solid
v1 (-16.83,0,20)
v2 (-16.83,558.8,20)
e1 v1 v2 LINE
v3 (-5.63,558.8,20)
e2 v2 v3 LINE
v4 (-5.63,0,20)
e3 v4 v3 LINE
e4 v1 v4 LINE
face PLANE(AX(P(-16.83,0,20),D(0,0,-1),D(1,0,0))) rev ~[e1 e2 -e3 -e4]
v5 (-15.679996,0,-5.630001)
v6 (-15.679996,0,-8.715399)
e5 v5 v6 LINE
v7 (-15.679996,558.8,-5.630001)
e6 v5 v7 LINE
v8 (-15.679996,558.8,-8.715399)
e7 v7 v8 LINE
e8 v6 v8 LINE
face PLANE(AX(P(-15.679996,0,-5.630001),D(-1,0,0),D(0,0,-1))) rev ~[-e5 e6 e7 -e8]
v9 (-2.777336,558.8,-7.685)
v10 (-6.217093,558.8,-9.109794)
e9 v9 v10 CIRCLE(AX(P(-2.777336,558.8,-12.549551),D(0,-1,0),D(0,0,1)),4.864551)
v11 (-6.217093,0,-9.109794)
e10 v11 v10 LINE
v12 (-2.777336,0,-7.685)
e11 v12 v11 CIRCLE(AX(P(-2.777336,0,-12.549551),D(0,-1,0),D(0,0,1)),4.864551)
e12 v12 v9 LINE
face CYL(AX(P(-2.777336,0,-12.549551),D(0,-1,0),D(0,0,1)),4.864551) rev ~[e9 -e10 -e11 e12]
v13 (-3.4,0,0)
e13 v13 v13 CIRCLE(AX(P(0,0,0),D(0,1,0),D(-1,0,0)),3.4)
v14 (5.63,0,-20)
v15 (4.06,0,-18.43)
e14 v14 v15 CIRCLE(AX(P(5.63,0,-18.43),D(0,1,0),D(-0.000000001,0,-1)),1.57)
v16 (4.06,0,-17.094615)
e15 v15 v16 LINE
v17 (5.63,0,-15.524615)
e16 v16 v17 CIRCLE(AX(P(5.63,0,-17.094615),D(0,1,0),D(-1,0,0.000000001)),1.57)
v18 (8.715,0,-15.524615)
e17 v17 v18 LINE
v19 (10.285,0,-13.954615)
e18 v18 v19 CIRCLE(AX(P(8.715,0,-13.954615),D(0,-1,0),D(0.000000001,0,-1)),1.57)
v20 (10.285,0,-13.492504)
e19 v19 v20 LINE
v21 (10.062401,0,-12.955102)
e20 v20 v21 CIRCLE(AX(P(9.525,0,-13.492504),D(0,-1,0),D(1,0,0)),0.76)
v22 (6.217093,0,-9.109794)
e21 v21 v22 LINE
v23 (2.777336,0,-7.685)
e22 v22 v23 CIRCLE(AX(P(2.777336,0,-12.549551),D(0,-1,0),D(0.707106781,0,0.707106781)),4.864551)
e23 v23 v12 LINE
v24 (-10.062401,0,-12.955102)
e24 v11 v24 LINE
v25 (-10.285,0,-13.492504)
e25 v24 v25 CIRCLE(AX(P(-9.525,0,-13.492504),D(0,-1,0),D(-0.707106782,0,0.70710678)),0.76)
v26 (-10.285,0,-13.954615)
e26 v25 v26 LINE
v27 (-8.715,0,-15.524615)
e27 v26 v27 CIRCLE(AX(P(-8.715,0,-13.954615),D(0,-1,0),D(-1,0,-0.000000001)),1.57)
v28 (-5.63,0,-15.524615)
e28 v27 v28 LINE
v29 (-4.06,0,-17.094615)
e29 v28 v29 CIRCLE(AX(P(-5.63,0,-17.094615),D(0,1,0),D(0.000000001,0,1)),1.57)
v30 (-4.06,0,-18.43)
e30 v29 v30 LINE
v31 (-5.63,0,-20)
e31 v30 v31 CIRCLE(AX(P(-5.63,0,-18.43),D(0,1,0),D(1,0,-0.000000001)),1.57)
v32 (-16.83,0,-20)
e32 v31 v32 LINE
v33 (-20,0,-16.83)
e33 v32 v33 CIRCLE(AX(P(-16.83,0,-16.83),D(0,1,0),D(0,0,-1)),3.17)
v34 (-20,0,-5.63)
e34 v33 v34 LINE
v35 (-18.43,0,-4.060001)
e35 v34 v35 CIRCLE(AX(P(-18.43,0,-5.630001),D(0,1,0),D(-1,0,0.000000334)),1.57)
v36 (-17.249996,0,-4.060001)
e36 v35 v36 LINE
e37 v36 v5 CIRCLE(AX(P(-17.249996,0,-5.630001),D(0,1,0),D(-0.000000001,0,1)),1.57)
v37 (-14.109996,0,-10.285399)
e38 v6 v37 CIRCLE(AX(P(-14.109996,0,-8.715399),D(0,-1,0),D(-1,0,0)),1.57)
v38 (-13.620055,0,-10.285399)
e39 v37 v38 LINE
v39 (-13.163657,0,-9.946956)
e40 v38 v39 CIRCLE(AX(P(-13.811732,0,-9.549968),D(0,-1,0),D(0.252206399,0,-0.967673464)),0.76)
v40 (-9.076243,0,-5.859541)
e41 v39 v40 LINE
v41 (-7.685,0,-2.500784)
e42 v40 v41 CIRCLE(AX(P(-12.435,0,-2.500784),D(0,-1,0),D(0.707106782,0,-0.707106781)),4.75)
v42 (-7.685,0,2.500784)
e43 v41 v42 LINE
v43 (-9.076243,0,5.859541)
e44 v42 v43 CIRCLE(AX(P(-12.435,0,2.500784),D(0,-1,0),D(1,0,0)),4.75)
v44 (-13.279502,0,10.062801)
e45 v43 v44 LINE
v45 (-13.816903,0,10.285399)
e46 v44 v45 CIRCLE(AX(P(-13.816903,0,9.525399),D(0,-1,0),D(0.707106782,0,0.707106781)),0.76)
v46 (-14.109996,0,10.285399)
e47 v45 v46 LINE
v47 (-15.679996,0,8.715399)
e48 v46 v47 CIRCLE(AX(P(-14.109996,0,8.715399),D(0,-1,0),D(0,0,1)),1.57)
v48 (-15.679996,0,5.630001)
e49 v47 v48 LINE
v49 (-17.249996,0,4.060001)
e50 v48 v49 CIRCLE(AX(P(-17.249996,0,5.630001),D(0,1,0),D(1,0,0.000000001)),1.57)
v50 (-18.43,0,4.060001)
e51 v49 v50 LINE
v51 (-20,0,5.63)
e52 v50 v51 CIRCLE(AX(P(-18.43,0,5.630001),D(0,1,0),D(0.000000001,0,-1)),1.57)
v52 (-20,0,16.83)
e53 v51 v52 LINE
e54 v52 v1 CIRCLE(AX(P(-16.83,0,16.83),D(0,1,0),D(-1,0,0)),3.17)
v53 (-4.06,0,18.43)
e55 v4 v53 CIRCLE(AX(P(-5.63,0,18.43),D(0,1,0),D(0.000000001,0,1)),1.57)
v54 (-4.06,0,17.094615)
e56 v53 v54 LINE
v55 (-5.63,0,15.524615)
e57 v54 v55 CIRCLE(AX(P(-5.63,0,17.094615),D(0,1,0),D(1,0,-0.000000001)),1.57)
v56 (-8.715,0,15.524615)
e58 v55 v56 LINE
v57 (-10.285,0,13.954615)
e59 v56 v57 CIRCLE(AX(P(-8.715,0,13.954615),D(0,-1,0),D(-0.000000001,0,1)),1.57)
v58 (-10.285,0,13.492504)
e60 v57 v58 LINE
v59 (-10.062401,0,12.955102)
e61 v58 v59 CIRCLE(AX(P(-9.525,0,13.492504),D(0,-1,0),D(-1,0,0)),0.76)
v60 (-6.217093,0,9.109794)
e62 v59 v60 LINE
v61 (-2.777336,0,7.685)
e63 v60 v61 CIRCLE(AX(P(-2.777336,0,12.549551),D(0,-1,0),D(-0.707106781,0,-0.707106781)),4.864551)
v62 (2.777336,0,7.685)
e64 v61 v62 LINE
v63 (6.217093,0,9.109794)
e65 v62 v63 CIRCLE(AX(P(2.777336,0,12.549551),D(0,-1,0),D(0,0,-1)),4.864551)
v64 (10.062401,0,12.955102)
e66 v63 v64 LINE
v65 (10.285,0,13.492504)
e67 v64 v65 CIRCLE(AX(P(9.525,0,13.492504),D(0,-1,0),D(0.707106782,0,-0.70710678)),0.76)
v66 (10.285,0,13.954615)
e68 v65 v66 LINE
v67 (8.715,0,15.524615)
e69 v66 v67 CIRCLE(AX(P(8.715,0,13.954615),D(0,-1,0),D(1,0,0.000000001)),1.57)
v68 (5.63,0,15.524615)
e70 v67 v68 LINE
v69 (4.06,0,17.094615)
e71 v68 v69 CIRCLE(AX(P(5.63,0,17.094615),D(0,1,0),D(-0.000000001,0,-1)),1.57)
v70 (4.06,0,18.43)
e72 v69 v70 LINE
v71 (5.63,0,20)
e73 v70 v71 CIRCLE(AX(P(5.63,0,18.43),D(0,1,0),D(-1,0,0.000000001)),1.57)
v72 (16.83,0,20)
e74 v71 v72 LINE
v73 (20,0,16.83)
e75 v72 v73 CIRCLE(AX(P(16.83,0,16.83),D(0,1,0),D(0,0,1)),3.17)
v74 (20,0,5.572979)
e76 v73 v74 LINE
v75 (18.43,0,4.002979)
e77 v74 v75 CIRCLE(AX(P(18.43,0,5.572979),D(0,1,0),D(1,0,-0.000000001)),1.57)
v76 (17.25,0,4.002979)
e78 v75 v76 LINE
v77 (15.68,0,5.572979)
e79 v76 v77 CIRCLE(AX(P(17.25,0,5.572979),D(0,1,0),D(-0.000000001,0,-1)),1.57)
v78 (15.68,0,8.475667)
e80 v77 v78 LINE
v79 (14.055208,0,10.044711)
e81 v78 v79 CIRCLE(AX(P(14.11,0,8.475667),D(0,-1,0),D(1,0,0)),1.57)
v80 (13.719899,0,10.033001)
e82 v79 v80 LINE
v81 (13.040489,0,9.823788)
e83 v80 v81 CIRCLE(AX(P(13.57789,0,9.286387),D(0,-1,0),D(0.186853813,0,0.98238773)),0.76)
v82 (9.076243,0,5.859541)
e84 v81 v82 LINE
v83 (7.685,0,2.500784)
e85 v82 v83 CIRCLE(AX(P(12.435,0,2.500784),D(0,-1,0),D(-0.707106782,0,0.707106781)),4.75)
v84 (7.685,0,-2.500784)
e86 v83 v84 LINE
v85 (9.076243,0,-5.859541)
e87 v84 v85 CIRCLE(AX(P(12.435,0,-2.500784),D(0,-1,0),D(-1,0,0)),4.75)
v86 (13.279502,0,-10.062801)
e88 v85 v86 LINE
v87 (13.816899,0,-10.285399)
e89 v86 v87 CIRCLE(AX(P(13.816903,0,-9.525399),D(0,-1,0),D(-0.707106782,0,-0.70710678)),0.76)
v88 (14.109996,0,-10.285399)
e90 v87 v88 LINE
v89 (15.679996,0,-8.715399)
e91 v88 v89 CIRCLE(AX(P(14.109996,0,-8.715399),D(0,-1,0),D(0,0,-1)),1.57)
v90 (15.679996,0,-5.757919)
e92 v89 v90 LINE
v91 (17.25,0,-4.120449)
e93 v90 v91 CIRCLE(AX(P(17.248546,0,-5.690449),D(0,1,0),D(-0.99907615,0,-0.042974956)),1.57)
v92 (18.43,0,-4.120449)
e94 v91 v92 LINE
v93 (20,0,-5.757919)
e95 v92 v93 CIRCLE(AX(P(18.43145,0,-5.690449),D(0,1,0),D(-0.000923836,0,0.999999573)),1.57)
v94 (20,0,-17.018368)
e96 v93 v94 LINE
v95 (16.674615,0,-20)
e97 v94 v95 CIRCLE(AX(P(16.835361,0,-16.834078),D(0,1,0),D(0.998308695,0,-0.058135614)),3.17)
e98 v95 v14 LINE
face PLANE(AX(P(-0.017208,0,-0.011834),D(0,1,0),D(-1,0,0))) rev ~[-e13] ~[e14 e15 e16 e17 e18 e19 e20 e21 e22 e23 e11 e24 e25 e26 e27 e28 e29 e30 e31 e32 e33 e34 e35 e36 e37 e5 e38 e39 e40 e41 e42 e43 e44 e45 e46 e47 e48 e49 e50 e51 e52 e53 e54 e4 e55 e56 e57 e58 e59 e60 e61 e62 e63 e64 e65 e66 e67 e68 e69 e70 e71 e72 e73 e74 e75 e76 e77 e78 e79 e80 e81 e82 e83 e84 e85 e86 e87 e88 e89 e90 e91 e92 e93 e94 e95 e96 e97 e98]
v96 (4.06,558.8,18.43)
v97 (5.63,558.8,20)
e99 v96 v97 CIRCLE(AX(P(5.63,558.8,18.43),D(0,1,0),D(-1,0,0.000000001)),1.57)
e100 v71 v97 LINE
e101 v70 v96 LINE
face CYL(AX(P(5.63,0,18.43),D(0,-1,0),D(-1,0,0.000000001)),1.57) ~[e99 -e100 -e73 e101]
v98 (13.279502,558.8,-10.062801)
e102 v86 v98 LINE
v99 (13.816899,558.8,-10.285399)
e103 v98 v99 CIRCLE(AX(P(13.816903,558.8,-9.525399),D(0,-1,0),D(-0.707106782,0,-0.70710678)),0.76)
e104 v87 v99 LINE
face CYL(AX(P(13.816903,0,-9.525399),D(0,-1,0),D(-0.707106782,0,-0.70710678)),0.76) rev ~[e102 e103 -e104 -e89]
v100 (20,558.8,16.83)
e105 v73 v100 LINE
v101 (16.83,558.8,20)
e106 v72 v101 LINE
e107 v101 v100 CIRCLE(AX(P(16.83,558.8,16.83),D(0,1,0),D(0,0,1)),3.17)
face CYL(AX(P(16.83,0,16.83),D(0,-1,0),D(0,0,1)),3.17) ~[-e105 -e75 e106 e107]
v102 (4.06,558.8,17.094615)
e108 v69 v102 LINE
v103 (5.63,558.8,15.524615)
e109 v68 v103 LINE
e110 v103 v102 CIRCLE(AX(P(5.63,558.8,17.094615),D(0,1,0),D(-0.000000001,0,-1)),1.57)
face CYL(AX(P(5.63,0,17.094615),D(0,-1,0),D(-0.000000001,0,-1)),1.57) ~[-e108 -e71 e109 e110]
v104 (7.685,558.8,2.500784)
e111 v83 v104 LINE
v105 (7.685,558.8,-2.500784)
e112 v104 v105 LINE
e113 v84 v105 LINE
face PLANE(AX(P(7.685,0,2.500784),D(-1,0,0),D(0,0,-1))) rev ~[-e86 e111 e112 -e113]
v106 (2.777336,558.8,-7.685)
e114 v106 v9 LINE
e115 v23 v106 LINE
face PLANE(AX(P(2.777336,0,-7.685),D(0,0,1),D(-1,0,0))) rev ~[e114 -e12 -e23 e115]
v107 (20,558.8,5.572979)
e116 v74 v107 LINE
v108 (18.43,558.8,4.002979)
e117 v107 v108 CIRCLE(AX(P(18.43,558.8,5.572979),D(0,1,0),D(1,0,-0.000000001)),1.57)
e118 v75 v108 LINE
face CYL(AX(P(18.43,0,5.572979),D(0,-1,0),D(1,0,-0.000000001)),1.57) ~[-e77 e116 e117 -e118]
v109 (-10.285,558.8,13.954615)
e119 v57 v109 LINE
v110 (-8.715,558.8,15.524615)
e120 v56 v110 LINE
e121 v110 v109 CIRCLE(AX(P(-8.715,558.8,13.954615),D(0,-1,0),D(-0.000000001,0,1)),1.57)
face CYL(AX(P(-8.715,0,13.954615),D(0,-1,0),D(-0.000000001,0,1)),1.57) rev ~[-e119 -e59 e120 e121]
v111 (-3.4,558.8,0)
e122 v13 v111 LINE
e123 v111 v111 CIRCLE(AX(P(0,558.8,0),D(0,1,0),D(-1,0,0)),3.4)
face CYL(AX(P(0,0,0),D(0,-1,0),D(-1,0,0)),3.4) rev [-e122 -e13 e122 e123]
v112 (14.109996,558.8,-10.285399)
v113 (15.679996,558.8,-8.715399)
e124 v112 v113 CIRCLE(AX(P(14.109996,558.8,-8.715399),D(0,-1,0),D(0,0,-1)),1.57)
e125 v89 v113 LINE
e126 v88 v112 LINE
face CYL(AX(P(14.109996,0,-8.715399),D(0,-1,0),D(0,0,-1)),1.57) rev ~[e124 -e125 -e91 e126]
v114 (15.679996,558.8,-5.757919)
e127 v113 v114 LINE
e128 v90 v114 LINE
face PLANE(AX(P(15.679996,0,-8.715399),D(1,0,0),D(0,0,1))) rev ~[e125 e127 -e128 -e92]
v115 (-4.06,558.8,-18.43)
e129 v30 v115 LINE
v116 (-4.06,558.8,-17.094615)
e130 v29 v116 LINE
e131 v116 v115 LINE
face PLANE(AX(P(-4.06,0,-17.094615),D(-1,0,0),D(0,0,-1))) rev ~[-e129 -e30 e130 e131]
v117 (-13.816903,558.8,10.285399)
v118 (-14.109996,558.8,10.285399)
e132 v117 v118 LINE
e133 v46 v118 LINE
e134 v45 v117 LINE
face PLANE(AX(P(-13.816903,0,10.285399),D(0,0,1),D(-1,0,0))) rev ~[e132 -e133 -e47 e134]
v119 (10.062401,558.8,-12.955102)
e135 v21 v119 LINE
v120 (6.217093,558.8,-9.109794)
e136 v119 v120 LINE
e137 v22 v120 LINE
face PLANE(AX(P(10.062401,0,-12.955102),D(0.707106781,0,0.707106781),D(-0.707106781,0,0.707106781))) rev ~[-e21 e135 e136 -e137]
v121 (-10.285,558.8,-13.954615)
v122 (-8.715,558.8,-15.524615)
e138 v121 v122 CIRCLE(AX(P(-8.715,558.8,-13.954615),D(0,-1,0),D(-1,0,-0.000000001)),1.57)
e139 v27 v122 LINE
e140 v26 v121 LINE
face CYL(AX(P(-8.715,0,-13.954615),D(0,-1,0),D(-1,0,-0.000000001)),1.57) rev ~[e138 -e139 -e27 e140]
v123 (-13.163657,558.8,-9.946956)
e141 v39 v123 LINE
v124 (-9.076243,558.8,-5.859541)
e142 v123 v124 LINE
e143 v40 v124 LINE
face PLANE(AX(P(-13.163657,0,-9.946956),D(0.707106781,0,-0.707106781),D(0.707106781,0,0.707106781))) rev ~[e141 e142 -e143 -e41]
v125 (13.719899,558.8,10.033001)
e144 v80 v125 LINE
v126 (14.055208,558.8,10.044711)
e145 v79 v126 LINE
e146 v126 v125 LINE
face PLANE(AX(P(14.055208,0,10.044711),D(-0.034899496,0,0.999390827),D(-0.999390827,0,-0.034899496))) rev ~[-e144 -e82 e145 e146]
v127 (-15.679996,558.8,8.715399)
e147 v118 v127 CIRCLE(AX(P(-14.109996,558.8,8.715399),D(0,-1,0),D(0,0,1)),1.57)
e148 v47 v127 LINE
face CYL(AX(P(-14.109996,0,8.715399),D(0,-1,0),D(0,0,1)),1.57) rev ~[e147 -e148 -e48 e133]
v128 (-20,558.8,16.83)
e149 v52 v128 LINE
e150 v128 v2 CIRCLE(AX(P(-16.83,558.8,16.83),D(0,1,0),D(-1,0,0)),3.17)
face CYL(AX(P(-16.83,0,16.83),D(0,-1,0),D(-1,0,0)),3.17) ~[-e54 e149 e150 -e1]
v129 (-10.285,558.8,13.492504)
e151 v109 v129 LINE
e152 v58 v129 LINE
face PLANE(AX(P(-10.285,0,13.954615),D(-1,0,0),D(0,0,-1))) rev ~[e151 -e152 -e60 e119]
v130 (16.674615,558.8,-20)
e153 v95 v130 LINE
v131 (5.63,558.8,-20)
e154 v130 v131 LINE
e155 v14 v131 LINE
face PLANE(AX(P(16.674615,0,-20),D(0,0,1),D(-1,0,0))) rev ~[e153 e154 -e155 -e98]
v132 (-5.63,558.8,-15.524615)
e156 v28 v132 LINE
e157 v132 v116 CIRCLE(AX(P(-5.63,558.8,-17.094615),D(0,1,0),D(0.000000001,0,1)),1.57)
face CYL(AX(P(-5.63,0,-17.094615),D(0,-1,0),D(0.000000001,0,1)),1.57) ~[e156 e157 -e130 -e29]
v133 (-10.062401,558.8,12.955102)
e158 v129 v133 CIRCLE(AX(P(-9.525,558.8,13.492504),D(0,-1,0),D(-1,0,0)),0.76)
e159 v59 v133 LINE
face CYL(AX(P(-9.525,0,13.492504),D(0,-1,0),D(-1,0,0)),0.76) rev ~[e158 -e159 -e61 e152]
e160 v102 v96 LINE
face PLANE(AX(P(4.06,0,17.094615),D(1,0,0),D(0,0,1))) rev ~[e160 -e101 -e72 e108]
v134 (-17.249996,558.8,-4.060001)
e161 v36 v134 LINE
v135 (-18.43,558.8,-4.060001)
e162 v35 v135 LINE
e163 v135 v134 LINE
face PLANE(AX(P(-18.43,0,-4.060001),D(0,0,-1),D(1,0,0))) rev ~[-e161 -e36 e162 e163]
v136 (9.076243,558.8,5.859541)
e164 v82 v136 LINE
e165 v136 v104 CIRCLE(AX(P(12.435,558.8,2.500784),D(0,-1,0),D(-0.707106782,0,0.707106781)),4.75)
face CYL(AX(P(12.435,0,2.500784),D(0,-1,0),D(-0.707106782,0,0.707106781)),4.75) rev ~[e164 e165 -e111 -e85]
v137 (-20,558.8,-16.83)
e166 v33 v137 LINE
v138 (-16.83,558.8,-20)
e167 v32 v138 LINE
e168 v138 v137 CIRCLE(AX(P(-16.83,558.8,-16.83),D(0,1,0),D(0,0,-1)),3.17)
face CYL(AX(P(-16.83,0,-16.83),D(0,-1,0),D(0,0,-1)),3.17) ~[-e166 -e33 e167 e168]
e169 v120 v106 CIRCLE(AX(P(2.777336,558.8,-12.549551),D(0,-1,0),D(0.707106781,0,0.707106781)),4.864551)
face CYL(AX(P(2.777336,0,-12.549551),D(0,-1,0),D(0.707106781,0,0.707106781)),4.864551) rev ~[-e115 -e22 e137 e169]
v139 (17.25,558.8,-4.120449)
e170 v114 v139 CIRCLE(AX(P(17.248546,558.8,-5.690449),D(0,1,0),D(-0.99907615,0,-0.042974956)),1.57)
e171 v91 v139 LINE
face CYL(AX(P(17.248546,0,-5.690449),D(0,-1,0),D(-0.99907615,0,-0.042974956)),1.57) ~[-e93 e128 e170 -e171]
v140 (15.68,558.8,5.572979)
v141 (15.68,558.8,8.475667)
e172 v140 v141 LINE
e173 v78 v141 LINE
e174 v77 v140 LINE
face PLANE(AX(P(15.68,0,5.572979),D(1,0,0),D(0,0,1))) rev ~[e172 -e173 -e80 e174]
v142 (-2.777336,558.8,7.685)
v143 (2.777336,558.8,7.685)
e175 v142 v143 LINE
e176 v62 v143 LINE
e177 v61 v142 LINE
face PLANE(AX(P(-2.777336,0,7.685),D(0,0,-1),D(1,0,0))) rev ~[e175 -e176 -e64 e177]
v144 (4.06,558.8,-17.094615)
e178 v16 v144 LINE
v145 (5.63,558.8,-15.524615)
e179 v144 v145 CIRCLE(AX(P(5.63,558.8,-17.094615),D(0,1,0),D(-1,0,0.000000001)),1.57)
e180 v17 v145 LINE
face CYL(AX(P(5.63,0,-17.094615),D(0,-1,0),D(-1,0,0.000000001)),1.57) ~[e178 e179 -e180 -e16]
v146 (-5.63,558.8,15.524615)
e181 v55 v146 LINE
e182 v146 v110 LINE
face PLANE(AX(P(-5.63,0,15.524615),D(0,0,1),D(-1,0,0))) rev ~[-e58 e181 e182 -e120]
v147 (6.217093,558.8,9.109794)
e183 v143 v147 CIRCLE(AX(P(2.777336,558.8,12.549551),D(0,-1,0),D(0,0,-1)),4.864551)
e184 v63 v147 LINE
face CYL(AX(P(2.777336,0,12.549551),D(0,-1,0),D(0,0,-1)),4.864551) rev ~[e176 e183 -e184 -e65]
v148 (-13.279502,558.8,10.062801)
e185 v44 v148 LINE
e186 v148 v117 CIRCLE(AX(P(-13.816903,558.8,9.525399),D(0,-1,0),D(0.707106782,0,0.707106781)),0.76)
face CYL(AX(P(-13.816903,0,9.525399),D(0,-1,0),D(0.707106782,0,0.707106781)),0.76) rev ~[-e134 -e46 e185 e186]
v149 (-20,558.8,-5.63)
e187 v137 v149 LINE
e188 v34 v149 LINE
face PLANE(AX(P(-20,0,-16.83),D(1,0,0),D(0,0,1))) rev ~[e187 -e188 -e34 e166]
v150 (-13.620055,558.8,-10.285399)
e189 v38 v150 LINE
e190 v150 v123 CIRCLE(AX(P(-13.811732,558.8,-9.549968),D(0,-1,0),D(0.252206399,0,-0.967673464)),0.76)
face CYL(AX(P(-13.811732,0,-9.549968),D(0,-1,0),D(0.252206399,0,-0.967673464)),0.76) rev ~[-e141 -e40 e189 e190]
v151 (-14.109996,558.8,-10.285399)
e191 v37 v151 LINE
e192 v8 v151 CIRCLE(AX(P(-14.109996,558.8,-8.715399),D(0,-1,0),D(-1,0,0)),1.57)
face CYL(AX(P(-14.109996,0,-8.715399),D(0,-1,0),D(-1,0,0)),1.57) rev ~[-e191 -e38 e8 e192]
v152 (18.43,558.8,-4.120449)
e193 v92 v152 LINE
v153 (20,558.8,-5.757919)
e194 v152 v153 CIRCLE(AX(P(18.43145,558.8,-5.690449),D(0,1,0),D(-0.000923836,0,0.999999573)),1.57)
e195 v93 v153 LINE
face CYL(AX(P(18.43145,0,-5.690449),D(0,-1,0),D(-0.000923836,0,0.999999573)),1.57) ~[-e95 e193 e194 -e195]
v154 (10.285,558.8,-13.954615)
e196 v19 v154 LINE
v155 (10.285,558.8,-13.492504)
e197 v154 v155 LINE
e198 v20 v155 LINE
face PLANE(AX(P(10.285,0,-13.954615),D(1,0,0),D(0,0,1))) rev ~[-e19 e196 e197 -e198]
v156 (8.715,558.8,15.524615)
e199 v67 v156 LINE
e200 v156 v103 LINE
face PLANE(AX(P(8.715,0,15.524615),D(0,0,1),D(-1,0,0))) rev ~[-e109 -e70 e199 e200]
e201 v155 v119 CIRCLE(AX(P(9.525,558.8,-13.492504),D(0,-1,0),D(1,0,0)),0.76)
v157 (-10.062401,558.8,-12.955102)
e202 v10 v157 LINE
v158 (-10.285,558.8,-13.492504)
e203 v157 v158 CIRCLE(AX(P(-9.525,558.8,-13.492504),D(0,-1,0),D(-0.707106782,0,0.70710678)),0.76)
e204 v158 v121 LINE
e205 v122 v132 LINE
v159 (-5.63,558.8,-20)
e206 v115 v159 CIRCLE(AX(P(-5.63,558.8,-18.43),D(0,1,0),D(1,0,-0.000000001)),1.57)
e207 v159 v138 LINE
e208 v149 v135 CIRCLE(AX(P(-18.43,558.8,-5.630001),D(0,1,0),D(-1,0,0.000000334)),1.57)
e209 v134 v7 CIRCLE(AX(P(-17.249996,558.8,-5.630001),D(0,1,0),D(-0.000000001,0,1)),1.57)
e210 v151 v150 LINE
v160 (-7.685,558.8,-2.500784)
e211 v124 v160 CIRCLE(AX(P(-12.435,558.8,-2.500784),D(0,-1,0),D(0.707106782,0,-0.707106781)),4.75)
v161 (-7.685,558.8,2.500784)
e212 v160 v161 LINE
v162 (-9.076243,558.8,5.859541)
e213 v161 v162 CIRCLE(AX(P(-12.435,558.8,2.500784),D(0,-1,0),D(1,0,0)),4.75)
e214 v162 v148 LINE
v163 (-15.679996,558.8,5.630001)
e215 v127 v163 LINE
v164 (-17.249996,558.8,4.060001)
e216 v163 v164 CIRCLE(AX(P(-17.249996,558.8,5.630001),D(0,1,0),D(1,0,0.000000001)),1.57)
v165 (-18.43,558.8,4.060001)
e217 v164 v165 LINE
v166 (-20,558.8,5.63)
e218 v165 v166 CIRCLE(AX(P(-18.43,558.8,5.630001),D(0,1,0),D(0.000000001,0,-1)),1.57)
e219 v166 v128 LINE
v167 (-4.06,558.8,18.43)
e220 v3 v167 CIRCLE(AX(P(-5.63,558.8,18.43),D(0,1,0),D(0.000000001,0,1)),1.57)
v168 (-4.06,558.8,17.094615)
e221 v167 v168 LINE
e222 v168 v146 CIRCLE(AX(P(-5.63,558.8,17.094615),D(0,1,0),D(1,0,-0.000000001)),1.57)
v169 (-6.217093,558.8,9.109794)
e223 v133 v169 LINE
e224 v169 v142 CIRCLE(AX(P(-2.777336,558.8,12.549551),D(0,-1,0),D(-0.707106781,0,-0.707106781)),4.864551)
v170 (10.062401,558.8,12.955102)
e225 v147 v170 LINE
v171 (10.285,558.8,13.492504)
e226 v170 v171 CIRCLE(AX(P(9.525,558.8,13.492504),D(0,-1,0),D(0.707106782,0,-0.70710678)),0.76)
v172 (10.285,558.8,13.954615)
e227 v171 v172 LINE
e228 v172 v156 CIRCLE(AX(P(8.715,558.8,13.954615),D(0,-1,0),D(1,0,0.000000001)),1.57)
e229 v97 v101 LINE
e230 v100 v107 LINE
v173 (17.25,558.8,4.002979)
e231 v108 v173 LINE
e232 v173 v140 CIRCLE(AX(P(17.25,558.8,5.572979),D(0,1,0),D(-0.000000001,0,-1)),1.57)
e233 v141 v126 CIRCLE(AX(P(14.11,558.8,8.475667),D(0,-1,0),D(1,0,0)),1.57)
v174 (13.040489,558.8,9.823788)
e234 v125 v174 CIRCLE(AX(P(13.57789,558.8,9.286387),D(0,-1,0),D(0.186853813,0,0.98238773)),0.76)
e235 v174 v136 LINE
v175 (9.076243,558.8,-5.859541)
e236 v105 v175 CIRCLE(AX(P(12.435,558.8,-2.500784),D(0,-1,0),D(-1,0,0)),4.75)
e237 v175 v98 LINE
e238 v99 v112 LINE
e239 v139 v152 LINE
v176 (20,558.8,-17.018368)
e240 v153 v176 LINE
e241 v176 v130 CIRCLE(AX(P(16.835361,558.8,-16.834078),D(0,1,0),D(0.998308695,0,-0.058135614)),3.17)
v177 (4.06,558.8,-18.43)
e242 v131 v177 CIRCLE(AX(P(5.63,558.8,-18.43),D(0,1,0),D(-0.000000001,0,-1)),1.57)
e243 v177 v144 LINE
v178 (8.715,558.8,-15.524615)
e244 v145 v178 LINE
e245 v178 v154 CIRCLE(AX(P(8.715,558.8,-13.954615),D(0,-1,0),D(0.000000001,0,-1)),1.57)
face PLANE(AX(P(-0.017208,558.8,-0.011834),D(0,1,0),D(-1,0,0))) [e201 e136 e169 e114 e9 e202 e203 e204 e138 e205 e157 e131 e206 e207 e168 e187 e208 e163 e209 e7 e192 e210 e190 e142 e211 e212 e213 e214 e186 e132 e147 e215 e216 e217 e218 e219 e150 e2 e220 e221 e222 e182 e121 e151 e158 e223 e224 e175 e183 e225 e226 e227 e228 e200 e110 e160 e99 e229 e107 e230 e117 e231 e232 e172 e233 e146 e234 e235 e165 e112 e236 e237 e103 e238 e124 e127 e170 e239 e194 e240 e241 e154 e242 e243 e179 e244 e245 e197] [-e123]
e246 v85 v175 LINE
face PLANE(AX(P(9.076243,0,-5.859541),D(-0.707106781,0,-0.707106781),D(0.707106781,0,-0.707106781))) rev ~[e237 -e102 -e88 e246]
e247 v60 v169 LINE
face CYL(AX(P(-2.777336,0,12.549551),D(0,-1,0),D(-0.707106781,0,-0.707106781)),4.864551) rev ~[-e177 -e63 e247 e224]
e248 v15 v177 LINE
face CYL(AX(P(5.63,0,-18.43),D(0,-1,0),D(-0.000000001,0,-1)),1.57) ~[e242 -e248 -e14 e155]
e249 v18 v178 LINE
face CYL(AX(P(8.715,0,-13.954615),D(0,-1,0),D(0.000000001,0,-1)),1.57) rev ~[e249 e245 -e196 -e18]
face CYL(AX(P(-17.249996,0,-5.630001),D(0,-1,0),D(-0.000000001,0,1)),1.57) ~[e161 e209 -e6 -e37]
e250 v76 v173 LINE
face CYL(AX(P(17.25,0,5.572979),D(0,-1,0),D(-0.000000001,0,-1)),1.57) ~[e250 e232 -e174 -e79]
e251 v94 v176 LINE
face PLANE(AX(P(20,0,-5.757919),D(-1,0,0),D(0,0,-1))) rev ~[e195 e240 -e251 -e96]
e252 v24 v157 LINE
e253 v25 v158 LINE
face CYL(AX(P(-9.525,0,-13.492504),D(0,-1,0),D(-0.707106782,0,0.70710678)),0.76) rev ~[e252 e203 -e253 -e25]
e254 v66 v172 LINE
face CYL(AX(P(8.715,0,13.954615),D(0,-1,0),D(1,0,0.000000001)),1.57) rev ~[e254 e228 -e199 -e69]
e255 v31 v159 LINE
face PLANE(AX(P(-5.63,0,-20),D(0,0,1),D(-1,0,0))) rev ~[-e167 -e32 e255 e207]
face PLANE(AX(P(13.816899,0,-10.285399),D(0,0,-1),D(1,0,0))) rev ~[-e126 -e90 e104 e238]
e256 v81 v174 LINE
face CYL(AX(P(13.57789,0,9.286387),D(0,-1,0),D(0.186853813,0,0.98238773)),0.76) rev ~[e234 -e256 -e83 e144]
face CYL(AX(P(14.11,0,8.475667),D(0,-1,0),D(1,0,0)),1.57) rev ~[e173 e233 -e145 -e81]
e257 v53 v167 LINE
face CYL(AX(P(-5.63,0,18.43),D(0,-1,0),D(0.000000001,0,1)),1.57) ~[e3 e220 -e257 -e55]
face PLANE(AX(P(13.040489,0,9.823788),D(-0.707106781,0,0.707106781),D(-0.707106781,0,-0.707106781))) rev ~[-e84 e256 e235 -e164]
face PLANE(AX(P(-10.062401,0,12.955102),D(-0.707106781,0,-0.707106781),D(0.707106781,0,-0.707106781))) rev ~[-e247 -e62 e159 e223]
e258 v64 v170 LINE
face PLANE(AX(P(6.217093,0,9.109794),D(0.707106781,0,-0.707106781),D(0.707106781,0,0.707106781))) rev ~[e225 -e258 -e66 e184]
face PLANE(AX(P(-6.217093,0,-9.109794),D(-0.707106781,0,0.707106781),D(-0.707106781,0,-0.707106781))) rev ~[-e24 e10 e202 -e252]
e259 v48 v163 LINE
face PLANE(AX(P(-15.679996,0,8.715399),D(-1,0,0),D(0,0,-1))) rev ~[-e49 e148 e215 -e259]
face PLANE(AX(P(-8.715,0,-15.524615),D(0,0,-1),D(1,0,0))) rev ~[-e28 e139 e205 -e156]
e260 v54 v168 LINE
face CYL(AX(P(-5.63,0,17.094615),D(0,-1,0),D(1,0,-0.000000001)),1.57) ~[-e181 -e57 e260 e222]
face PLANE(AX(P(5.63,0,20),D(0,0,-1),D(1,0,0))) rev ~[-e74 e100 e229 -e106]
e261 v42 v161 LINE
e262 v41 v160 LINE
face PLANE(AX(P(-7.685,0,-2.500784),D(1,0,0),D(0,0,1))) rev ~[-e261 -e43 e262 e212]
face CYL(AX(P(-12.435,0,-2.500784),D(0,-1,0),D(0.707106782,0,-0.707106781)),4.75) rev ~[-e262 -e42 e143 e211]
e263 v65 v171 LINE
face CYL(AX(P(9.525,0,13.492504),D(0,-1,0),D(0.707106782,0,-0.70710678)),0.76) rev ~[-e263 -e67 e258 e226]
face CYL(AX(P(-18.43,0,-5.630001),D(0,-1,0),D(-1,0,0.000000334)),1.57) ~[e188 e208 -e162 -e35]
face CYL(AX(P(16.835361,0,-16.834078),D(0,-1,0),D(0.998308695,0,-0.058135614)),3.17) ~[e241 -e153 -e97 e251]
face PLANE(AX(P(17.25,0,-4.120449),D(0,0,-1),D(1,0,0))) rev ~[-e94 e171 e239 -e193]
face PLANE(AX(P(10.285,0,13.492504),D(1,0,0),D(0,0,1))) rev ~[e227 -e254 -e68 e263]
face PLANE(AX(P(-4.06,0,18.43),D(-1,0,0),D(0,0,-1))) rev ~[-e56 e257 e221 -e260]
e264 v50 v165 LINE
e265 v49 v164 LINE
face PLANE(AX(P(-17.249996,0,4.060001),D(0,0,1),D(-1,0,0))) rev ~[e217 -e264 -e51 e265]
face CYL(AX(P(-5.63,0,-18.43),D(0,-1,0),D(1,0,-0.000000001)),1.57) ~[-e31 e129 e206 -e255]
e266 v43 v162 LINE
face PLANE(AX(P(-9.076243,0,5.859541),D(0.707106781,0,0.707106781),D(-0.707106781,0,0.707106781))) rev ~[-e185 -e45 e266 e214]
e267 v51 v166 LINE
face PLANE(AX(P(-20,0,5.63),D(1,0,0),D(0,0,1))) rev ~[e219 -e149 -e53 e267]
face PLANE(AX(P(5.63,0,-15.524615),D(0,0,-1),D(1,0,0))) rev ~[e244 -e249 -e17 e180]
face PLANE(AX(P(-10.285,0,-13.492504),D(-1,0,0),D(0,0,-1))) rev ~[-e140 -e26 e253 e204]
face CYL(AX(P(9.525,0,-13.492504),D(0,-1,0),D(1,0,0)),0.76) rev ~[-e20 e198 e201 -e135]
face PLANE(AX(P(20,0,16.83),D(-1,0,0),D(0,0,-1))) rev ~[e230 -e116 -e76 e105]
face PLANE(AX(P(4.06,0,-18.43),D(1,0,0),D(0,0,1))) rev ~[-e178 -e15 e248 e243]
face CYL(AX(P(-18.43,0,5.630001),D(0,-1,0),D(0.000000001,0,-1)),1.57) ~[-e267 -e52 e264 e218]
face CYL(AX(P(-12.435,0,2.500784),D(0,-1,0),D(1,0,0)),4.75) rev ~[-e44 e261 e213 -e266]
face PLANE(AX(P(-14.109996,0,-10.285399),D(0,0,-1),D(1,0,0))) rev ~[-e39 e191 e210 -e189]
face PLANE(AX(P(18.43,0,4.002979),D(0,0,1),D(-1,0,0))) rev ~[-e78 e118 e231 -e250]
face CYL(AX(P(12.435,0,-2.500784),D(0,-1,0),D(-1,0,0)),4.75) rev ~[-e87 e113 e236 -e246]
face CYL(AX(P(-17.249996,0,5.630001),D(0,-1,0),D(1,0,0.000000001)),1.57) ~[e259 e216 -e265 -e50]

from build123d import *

# Parameters (mm, degrees)
SKETCH11_R               = 3.4
F_40_SERIES_4040_1_DEPTH = 558.8


with BuildPart() as part:
    # Sketch11 → 40 series 4040(1) (new body)
    with BuildSketch(Plane(origin=(0, 0, 0), x_dir=(-1, 0, 0), z_dir=(0, 1, 0))):
        with BuildLine():
            Line((-5.63, -15.524615034), (-8.715, -15.524615034))
            ThreePointArc((-8.715, -15.524615034), (-9.825157646, -15.06477268), (-10.285, -13.954615034))
            Line((-10.285, -13.954615034), (-10.285, -13.492503602))
            ThreePointArc((-10.285, -13.492503602), (-10.227148445, -13.201664194), (-10.062401154, -12.955102448))
            Line((-10.062401154, -12.955102448), (-6.217092793, -9.109794088))
            ThreePointArc((-6.217092793, -9.109794088), (-4.63891877, -8.055291919), (-2.777335583, -7.685))
            Line((-2.777335583, -7.685), (2.777335583, -7.685))
            ThreePointArc((2.777335583, -7.685), (4.63891877, -8.055291919), (6.217092793, -9.109794088))
            Line((6.217092793, -9.109794088), (10.062401154, -12.955102448))
            ThreePointArc((10.062401154, -12.955102448), (10.227148445, -13.201664194), (10.285, -13.492503602))
            Line((10.285, -13.492503602), (10.285, -13.954615034))
            ThreePointArc((10.285, -13.954615034), (9.825157646, -15.06477268), (8.715, -15.524615034))
            Line((8.715, -15.524615034), (5.63, -15.524615034))
            ThreePointArc((5.63, -15.524615034), (4.519842354, -15.984457388), (4.06, -17.094615034))
            Line((4.06, -17.094615034), (4.06, -18.43))
            ThreePointArc((4.06, -18.43), (4.519842354, -19.540157646), (5.63, -20))
            Line((5.63, -20), (16.83, -20))
            ThreePointArc((16.83, -20), (19.071528496, -19.071528496), (20, -16.83))
            Line((20, -16.83), (20, -5.63))
            ThreePointArc((20, -5.63), (19.540157461, -4.519842693), (18.43, -4.060000526))
            Line((18.43, -4.060000526), (17.24999625, -4.060000526))
            ThreePointArc((17.24999625, -4.060000526), (16.139838603, -4.519842879), (15.67999625, -5.630000526))
            Line((15.67999625, -5.630000526), (15.67999625, -8.715399492))
            ThreePointArc((15.67999625, -8.715399492), (15.220153896, -9.825557139), (14.10999625, -10.285399492))
            Line((14.10999625, -10.285399492), (13.6200547, -10.285399492))
            ThreePointArc((13.6200547, -10.285399492), (13.35903797, -10.160433474), (13.163657296, -9.946956002))
            Line((13.163657296, -9.946956002), (9.076242789, -5.859541495))
            ThreePointArc((9.076242789, -5.859541495), (8.046572221, -4.318530588), (7.685, -2.500784284))
            Line((7.685, -2.500784284), (7.685, 2.500784284))
            ThreePointArc((7.685, 2.500784284), (8.046572221, 4.318530588), (9.076242789, 5.859541495))
            Line((9.076242789, 5.859541495), (13.279501941, 10.062800646))
            ThreePointArc((13.279501941, 10.062800646), (13.526063686, 10.227547937), (13.816903094, 10.285399492))
            Line((13.816903094, 10.285399492), (14.10999625, 10.285399492))
            ThreePointArc((14.10999625, 10.285399492), (15.220153896, 9.825557139), (15.67999625, 8.715399492))
            Line((15.67999625, 8.715399492), (15.67999625, 5.630000526))
            ThreePointArc((15.67999625, 5.630000526), (16.139838603, 4.519842879), (17.24999625, 4.060000526))
            Line((17.24999625, 4.060000526), (18.43, 4.060000526))
            ThreePointArc((18.43, 4.060000526), (19.540157461, 4.519842693), (20, 5.63))
            Line((20, 5.63), (20, 16.83))
            ThreePointArc((20, 16.83), (19.071528496, 19.071528496), (16.83, 20))
            Line((16.83, 20), (5.63, 20))
            ThreePointArc((5.63, 20), (4.519842354, 19.540157646), (4.06, 18.43))
            Line((4.06, 18.43), (4.06, 17.094615034))
            ThreePointArc((4.06, 17.094615034), (4.519842354, 15.984457388), (5.63, 15.524615034))
            Line((5.63, 15.524615034), (8.715, 15.524615034))
            ThreePointArc((8.715, 15.524615034), (9.825157646, 15.06477268), (10.285, 13.954615034))
            Line((10.285, 13.954615034), (10.285, 13.492503602))
            ThreePointArc((10.285, 13.492503602), (10.227148445, 13.201664194), (10.062401154, 12.955102448))
            Line((10.062401154, 12.955102448), (6.217092793, 9.109794088))
            ThreePointArc((6.217092793, 9.109794088), (4.63891877, 8.055291919), (2.777335583, 7.685))
            Line((2.777335583, 7.685), (-2.777335583, 7.685))
            ThreePointArc((-2.777335583, 7.685), (-4.63891877, 8.055291919), (-6.217092793, 9.109794088))
            Line((-6.217092793, 9.109794088), (-10.062401154, 12.955102448))
            ThreePointArc((-10.062401154, 12.955102448), (-10.227148445, 13.201664194), (-10.285, 13.492503602))
            Line((-10.285, 13.492503602), (-10.285, 13.954615034))
            ThreePointArc((-10.285, 13.954615034), (-9.825157646, 15.06477268), (-8.715, 15.524615034))
            Line((-8.715, 15.524615034), (-5.63, 15.524615034))
            ThreePointArc((-5.63, 15.524615034), (-4.519842354, 15.984457388), (-4.06, 17.094615034))
            Line((-4.06, 17.094615034), (-4.06, 18.43))
            ThreePointArc((-4.06, 18.43), (-4.519842354, 19.540157646), (-5.63, 20))
            Line((-5.63, 20), (-16.83, 20))
            ThreePointArc((-16.83, 20), (-19.071528496, 19.071528496), (-20, 16.83))
            Line((-20, 16.83), (-20, 5.572979049))
            ThreePointArc((-20, 5.572979049), (-19.540157646, 4.462821403), (-18.43, 4.002979049))
            Line((-18.43, 4.002979049), (-17.25, 4.002979049))
            ThreePointArc((-17.25, 4.002979049), (-16.139842354, 4.462821403), (-15.68, 5.572979049))
            Line((-15.68, 5.572979049), (-15.68, 8.475666998))
            ThreePointArc((-15.68, 8.475666998), (-15.200613642, 9.605030484), (-14.05520779, 10.044710596))
            Line((-14.05520779, 10.044710596), (-13.71989919, 10.033001362))
            ThreePointArc((-13.71989919, 10.033001362), (-13.354224618, 10.012729352), (-13.040489136, 9.823787841))
            Line((-13.040489136, 9.823787841), (-9.076242789, 5.859541495))
            ThreePointArc((-9.076242789, 5.859541495), (-8.046572221, 4.318530588), (-7.685, 2.500784284))
            Line((-7.685, 2.500784284), (-7.685, -2.500784284))
            ThreePointArc((-7.685, -2.500784284), (-8.046572221, -4.318530588), (-9.076242789, -5.859541495))
            Line((-9.076242789, -5.859541495), (-13.279501941, -10.062800646))
            ThreePointArc((-13.279501941, -10.062800646), (-13.526061711, -10.227547119), (-13.816898819, -10.285399492))
            Line((-13.816898819, -10.285399492), (-14.10999625, -10.285399492))
            ThreePointArc((-14.10999625, -10.285399492), (-15.220153896, -9.825557139), (-15.67999625, -8.715399492))
            Line((-15.67999625, -8.715399492), (-15.67999625, -5.757919334))
            ThreePointArc((-15.67999625, -5.757919334), (-16.115287682, -4.60388249), (-17.25, -4.120449326))
            Line((-17.25, -4.120449326), (-18.43, -4.120449326))
            ThreePointArc((-18.43, -4.120449326), (-19.564709668, -4.603883664), (-20, -5.757918808))
            Line((-20, -5.757918808), (-20, -17.018368134))
            ThreePointArc((-20, -17.018368134), (-18.951578385, -19.194274381), (-16.674615034, -20))
            Line((-16.674615034, -20), (-5.63, -20))
            ThreePointArc((-5.63, -20), (-4.519842354, -19.540157646), (-4.06, -18.43))
            Line((-4.06, -18.43), (-4.06, -17.094615034))
            ThreePointArc((-4.06, -17.094615034), (-4.519842354, -15.984457388), (-5.63, -15.524615034))
        make_face()
        Circle(SKETCH11_R, mode=Mode.SUBTRACT)
    extrude(amount=F_40_SERIES_4040_1_DEPTH)


solid = part.part
